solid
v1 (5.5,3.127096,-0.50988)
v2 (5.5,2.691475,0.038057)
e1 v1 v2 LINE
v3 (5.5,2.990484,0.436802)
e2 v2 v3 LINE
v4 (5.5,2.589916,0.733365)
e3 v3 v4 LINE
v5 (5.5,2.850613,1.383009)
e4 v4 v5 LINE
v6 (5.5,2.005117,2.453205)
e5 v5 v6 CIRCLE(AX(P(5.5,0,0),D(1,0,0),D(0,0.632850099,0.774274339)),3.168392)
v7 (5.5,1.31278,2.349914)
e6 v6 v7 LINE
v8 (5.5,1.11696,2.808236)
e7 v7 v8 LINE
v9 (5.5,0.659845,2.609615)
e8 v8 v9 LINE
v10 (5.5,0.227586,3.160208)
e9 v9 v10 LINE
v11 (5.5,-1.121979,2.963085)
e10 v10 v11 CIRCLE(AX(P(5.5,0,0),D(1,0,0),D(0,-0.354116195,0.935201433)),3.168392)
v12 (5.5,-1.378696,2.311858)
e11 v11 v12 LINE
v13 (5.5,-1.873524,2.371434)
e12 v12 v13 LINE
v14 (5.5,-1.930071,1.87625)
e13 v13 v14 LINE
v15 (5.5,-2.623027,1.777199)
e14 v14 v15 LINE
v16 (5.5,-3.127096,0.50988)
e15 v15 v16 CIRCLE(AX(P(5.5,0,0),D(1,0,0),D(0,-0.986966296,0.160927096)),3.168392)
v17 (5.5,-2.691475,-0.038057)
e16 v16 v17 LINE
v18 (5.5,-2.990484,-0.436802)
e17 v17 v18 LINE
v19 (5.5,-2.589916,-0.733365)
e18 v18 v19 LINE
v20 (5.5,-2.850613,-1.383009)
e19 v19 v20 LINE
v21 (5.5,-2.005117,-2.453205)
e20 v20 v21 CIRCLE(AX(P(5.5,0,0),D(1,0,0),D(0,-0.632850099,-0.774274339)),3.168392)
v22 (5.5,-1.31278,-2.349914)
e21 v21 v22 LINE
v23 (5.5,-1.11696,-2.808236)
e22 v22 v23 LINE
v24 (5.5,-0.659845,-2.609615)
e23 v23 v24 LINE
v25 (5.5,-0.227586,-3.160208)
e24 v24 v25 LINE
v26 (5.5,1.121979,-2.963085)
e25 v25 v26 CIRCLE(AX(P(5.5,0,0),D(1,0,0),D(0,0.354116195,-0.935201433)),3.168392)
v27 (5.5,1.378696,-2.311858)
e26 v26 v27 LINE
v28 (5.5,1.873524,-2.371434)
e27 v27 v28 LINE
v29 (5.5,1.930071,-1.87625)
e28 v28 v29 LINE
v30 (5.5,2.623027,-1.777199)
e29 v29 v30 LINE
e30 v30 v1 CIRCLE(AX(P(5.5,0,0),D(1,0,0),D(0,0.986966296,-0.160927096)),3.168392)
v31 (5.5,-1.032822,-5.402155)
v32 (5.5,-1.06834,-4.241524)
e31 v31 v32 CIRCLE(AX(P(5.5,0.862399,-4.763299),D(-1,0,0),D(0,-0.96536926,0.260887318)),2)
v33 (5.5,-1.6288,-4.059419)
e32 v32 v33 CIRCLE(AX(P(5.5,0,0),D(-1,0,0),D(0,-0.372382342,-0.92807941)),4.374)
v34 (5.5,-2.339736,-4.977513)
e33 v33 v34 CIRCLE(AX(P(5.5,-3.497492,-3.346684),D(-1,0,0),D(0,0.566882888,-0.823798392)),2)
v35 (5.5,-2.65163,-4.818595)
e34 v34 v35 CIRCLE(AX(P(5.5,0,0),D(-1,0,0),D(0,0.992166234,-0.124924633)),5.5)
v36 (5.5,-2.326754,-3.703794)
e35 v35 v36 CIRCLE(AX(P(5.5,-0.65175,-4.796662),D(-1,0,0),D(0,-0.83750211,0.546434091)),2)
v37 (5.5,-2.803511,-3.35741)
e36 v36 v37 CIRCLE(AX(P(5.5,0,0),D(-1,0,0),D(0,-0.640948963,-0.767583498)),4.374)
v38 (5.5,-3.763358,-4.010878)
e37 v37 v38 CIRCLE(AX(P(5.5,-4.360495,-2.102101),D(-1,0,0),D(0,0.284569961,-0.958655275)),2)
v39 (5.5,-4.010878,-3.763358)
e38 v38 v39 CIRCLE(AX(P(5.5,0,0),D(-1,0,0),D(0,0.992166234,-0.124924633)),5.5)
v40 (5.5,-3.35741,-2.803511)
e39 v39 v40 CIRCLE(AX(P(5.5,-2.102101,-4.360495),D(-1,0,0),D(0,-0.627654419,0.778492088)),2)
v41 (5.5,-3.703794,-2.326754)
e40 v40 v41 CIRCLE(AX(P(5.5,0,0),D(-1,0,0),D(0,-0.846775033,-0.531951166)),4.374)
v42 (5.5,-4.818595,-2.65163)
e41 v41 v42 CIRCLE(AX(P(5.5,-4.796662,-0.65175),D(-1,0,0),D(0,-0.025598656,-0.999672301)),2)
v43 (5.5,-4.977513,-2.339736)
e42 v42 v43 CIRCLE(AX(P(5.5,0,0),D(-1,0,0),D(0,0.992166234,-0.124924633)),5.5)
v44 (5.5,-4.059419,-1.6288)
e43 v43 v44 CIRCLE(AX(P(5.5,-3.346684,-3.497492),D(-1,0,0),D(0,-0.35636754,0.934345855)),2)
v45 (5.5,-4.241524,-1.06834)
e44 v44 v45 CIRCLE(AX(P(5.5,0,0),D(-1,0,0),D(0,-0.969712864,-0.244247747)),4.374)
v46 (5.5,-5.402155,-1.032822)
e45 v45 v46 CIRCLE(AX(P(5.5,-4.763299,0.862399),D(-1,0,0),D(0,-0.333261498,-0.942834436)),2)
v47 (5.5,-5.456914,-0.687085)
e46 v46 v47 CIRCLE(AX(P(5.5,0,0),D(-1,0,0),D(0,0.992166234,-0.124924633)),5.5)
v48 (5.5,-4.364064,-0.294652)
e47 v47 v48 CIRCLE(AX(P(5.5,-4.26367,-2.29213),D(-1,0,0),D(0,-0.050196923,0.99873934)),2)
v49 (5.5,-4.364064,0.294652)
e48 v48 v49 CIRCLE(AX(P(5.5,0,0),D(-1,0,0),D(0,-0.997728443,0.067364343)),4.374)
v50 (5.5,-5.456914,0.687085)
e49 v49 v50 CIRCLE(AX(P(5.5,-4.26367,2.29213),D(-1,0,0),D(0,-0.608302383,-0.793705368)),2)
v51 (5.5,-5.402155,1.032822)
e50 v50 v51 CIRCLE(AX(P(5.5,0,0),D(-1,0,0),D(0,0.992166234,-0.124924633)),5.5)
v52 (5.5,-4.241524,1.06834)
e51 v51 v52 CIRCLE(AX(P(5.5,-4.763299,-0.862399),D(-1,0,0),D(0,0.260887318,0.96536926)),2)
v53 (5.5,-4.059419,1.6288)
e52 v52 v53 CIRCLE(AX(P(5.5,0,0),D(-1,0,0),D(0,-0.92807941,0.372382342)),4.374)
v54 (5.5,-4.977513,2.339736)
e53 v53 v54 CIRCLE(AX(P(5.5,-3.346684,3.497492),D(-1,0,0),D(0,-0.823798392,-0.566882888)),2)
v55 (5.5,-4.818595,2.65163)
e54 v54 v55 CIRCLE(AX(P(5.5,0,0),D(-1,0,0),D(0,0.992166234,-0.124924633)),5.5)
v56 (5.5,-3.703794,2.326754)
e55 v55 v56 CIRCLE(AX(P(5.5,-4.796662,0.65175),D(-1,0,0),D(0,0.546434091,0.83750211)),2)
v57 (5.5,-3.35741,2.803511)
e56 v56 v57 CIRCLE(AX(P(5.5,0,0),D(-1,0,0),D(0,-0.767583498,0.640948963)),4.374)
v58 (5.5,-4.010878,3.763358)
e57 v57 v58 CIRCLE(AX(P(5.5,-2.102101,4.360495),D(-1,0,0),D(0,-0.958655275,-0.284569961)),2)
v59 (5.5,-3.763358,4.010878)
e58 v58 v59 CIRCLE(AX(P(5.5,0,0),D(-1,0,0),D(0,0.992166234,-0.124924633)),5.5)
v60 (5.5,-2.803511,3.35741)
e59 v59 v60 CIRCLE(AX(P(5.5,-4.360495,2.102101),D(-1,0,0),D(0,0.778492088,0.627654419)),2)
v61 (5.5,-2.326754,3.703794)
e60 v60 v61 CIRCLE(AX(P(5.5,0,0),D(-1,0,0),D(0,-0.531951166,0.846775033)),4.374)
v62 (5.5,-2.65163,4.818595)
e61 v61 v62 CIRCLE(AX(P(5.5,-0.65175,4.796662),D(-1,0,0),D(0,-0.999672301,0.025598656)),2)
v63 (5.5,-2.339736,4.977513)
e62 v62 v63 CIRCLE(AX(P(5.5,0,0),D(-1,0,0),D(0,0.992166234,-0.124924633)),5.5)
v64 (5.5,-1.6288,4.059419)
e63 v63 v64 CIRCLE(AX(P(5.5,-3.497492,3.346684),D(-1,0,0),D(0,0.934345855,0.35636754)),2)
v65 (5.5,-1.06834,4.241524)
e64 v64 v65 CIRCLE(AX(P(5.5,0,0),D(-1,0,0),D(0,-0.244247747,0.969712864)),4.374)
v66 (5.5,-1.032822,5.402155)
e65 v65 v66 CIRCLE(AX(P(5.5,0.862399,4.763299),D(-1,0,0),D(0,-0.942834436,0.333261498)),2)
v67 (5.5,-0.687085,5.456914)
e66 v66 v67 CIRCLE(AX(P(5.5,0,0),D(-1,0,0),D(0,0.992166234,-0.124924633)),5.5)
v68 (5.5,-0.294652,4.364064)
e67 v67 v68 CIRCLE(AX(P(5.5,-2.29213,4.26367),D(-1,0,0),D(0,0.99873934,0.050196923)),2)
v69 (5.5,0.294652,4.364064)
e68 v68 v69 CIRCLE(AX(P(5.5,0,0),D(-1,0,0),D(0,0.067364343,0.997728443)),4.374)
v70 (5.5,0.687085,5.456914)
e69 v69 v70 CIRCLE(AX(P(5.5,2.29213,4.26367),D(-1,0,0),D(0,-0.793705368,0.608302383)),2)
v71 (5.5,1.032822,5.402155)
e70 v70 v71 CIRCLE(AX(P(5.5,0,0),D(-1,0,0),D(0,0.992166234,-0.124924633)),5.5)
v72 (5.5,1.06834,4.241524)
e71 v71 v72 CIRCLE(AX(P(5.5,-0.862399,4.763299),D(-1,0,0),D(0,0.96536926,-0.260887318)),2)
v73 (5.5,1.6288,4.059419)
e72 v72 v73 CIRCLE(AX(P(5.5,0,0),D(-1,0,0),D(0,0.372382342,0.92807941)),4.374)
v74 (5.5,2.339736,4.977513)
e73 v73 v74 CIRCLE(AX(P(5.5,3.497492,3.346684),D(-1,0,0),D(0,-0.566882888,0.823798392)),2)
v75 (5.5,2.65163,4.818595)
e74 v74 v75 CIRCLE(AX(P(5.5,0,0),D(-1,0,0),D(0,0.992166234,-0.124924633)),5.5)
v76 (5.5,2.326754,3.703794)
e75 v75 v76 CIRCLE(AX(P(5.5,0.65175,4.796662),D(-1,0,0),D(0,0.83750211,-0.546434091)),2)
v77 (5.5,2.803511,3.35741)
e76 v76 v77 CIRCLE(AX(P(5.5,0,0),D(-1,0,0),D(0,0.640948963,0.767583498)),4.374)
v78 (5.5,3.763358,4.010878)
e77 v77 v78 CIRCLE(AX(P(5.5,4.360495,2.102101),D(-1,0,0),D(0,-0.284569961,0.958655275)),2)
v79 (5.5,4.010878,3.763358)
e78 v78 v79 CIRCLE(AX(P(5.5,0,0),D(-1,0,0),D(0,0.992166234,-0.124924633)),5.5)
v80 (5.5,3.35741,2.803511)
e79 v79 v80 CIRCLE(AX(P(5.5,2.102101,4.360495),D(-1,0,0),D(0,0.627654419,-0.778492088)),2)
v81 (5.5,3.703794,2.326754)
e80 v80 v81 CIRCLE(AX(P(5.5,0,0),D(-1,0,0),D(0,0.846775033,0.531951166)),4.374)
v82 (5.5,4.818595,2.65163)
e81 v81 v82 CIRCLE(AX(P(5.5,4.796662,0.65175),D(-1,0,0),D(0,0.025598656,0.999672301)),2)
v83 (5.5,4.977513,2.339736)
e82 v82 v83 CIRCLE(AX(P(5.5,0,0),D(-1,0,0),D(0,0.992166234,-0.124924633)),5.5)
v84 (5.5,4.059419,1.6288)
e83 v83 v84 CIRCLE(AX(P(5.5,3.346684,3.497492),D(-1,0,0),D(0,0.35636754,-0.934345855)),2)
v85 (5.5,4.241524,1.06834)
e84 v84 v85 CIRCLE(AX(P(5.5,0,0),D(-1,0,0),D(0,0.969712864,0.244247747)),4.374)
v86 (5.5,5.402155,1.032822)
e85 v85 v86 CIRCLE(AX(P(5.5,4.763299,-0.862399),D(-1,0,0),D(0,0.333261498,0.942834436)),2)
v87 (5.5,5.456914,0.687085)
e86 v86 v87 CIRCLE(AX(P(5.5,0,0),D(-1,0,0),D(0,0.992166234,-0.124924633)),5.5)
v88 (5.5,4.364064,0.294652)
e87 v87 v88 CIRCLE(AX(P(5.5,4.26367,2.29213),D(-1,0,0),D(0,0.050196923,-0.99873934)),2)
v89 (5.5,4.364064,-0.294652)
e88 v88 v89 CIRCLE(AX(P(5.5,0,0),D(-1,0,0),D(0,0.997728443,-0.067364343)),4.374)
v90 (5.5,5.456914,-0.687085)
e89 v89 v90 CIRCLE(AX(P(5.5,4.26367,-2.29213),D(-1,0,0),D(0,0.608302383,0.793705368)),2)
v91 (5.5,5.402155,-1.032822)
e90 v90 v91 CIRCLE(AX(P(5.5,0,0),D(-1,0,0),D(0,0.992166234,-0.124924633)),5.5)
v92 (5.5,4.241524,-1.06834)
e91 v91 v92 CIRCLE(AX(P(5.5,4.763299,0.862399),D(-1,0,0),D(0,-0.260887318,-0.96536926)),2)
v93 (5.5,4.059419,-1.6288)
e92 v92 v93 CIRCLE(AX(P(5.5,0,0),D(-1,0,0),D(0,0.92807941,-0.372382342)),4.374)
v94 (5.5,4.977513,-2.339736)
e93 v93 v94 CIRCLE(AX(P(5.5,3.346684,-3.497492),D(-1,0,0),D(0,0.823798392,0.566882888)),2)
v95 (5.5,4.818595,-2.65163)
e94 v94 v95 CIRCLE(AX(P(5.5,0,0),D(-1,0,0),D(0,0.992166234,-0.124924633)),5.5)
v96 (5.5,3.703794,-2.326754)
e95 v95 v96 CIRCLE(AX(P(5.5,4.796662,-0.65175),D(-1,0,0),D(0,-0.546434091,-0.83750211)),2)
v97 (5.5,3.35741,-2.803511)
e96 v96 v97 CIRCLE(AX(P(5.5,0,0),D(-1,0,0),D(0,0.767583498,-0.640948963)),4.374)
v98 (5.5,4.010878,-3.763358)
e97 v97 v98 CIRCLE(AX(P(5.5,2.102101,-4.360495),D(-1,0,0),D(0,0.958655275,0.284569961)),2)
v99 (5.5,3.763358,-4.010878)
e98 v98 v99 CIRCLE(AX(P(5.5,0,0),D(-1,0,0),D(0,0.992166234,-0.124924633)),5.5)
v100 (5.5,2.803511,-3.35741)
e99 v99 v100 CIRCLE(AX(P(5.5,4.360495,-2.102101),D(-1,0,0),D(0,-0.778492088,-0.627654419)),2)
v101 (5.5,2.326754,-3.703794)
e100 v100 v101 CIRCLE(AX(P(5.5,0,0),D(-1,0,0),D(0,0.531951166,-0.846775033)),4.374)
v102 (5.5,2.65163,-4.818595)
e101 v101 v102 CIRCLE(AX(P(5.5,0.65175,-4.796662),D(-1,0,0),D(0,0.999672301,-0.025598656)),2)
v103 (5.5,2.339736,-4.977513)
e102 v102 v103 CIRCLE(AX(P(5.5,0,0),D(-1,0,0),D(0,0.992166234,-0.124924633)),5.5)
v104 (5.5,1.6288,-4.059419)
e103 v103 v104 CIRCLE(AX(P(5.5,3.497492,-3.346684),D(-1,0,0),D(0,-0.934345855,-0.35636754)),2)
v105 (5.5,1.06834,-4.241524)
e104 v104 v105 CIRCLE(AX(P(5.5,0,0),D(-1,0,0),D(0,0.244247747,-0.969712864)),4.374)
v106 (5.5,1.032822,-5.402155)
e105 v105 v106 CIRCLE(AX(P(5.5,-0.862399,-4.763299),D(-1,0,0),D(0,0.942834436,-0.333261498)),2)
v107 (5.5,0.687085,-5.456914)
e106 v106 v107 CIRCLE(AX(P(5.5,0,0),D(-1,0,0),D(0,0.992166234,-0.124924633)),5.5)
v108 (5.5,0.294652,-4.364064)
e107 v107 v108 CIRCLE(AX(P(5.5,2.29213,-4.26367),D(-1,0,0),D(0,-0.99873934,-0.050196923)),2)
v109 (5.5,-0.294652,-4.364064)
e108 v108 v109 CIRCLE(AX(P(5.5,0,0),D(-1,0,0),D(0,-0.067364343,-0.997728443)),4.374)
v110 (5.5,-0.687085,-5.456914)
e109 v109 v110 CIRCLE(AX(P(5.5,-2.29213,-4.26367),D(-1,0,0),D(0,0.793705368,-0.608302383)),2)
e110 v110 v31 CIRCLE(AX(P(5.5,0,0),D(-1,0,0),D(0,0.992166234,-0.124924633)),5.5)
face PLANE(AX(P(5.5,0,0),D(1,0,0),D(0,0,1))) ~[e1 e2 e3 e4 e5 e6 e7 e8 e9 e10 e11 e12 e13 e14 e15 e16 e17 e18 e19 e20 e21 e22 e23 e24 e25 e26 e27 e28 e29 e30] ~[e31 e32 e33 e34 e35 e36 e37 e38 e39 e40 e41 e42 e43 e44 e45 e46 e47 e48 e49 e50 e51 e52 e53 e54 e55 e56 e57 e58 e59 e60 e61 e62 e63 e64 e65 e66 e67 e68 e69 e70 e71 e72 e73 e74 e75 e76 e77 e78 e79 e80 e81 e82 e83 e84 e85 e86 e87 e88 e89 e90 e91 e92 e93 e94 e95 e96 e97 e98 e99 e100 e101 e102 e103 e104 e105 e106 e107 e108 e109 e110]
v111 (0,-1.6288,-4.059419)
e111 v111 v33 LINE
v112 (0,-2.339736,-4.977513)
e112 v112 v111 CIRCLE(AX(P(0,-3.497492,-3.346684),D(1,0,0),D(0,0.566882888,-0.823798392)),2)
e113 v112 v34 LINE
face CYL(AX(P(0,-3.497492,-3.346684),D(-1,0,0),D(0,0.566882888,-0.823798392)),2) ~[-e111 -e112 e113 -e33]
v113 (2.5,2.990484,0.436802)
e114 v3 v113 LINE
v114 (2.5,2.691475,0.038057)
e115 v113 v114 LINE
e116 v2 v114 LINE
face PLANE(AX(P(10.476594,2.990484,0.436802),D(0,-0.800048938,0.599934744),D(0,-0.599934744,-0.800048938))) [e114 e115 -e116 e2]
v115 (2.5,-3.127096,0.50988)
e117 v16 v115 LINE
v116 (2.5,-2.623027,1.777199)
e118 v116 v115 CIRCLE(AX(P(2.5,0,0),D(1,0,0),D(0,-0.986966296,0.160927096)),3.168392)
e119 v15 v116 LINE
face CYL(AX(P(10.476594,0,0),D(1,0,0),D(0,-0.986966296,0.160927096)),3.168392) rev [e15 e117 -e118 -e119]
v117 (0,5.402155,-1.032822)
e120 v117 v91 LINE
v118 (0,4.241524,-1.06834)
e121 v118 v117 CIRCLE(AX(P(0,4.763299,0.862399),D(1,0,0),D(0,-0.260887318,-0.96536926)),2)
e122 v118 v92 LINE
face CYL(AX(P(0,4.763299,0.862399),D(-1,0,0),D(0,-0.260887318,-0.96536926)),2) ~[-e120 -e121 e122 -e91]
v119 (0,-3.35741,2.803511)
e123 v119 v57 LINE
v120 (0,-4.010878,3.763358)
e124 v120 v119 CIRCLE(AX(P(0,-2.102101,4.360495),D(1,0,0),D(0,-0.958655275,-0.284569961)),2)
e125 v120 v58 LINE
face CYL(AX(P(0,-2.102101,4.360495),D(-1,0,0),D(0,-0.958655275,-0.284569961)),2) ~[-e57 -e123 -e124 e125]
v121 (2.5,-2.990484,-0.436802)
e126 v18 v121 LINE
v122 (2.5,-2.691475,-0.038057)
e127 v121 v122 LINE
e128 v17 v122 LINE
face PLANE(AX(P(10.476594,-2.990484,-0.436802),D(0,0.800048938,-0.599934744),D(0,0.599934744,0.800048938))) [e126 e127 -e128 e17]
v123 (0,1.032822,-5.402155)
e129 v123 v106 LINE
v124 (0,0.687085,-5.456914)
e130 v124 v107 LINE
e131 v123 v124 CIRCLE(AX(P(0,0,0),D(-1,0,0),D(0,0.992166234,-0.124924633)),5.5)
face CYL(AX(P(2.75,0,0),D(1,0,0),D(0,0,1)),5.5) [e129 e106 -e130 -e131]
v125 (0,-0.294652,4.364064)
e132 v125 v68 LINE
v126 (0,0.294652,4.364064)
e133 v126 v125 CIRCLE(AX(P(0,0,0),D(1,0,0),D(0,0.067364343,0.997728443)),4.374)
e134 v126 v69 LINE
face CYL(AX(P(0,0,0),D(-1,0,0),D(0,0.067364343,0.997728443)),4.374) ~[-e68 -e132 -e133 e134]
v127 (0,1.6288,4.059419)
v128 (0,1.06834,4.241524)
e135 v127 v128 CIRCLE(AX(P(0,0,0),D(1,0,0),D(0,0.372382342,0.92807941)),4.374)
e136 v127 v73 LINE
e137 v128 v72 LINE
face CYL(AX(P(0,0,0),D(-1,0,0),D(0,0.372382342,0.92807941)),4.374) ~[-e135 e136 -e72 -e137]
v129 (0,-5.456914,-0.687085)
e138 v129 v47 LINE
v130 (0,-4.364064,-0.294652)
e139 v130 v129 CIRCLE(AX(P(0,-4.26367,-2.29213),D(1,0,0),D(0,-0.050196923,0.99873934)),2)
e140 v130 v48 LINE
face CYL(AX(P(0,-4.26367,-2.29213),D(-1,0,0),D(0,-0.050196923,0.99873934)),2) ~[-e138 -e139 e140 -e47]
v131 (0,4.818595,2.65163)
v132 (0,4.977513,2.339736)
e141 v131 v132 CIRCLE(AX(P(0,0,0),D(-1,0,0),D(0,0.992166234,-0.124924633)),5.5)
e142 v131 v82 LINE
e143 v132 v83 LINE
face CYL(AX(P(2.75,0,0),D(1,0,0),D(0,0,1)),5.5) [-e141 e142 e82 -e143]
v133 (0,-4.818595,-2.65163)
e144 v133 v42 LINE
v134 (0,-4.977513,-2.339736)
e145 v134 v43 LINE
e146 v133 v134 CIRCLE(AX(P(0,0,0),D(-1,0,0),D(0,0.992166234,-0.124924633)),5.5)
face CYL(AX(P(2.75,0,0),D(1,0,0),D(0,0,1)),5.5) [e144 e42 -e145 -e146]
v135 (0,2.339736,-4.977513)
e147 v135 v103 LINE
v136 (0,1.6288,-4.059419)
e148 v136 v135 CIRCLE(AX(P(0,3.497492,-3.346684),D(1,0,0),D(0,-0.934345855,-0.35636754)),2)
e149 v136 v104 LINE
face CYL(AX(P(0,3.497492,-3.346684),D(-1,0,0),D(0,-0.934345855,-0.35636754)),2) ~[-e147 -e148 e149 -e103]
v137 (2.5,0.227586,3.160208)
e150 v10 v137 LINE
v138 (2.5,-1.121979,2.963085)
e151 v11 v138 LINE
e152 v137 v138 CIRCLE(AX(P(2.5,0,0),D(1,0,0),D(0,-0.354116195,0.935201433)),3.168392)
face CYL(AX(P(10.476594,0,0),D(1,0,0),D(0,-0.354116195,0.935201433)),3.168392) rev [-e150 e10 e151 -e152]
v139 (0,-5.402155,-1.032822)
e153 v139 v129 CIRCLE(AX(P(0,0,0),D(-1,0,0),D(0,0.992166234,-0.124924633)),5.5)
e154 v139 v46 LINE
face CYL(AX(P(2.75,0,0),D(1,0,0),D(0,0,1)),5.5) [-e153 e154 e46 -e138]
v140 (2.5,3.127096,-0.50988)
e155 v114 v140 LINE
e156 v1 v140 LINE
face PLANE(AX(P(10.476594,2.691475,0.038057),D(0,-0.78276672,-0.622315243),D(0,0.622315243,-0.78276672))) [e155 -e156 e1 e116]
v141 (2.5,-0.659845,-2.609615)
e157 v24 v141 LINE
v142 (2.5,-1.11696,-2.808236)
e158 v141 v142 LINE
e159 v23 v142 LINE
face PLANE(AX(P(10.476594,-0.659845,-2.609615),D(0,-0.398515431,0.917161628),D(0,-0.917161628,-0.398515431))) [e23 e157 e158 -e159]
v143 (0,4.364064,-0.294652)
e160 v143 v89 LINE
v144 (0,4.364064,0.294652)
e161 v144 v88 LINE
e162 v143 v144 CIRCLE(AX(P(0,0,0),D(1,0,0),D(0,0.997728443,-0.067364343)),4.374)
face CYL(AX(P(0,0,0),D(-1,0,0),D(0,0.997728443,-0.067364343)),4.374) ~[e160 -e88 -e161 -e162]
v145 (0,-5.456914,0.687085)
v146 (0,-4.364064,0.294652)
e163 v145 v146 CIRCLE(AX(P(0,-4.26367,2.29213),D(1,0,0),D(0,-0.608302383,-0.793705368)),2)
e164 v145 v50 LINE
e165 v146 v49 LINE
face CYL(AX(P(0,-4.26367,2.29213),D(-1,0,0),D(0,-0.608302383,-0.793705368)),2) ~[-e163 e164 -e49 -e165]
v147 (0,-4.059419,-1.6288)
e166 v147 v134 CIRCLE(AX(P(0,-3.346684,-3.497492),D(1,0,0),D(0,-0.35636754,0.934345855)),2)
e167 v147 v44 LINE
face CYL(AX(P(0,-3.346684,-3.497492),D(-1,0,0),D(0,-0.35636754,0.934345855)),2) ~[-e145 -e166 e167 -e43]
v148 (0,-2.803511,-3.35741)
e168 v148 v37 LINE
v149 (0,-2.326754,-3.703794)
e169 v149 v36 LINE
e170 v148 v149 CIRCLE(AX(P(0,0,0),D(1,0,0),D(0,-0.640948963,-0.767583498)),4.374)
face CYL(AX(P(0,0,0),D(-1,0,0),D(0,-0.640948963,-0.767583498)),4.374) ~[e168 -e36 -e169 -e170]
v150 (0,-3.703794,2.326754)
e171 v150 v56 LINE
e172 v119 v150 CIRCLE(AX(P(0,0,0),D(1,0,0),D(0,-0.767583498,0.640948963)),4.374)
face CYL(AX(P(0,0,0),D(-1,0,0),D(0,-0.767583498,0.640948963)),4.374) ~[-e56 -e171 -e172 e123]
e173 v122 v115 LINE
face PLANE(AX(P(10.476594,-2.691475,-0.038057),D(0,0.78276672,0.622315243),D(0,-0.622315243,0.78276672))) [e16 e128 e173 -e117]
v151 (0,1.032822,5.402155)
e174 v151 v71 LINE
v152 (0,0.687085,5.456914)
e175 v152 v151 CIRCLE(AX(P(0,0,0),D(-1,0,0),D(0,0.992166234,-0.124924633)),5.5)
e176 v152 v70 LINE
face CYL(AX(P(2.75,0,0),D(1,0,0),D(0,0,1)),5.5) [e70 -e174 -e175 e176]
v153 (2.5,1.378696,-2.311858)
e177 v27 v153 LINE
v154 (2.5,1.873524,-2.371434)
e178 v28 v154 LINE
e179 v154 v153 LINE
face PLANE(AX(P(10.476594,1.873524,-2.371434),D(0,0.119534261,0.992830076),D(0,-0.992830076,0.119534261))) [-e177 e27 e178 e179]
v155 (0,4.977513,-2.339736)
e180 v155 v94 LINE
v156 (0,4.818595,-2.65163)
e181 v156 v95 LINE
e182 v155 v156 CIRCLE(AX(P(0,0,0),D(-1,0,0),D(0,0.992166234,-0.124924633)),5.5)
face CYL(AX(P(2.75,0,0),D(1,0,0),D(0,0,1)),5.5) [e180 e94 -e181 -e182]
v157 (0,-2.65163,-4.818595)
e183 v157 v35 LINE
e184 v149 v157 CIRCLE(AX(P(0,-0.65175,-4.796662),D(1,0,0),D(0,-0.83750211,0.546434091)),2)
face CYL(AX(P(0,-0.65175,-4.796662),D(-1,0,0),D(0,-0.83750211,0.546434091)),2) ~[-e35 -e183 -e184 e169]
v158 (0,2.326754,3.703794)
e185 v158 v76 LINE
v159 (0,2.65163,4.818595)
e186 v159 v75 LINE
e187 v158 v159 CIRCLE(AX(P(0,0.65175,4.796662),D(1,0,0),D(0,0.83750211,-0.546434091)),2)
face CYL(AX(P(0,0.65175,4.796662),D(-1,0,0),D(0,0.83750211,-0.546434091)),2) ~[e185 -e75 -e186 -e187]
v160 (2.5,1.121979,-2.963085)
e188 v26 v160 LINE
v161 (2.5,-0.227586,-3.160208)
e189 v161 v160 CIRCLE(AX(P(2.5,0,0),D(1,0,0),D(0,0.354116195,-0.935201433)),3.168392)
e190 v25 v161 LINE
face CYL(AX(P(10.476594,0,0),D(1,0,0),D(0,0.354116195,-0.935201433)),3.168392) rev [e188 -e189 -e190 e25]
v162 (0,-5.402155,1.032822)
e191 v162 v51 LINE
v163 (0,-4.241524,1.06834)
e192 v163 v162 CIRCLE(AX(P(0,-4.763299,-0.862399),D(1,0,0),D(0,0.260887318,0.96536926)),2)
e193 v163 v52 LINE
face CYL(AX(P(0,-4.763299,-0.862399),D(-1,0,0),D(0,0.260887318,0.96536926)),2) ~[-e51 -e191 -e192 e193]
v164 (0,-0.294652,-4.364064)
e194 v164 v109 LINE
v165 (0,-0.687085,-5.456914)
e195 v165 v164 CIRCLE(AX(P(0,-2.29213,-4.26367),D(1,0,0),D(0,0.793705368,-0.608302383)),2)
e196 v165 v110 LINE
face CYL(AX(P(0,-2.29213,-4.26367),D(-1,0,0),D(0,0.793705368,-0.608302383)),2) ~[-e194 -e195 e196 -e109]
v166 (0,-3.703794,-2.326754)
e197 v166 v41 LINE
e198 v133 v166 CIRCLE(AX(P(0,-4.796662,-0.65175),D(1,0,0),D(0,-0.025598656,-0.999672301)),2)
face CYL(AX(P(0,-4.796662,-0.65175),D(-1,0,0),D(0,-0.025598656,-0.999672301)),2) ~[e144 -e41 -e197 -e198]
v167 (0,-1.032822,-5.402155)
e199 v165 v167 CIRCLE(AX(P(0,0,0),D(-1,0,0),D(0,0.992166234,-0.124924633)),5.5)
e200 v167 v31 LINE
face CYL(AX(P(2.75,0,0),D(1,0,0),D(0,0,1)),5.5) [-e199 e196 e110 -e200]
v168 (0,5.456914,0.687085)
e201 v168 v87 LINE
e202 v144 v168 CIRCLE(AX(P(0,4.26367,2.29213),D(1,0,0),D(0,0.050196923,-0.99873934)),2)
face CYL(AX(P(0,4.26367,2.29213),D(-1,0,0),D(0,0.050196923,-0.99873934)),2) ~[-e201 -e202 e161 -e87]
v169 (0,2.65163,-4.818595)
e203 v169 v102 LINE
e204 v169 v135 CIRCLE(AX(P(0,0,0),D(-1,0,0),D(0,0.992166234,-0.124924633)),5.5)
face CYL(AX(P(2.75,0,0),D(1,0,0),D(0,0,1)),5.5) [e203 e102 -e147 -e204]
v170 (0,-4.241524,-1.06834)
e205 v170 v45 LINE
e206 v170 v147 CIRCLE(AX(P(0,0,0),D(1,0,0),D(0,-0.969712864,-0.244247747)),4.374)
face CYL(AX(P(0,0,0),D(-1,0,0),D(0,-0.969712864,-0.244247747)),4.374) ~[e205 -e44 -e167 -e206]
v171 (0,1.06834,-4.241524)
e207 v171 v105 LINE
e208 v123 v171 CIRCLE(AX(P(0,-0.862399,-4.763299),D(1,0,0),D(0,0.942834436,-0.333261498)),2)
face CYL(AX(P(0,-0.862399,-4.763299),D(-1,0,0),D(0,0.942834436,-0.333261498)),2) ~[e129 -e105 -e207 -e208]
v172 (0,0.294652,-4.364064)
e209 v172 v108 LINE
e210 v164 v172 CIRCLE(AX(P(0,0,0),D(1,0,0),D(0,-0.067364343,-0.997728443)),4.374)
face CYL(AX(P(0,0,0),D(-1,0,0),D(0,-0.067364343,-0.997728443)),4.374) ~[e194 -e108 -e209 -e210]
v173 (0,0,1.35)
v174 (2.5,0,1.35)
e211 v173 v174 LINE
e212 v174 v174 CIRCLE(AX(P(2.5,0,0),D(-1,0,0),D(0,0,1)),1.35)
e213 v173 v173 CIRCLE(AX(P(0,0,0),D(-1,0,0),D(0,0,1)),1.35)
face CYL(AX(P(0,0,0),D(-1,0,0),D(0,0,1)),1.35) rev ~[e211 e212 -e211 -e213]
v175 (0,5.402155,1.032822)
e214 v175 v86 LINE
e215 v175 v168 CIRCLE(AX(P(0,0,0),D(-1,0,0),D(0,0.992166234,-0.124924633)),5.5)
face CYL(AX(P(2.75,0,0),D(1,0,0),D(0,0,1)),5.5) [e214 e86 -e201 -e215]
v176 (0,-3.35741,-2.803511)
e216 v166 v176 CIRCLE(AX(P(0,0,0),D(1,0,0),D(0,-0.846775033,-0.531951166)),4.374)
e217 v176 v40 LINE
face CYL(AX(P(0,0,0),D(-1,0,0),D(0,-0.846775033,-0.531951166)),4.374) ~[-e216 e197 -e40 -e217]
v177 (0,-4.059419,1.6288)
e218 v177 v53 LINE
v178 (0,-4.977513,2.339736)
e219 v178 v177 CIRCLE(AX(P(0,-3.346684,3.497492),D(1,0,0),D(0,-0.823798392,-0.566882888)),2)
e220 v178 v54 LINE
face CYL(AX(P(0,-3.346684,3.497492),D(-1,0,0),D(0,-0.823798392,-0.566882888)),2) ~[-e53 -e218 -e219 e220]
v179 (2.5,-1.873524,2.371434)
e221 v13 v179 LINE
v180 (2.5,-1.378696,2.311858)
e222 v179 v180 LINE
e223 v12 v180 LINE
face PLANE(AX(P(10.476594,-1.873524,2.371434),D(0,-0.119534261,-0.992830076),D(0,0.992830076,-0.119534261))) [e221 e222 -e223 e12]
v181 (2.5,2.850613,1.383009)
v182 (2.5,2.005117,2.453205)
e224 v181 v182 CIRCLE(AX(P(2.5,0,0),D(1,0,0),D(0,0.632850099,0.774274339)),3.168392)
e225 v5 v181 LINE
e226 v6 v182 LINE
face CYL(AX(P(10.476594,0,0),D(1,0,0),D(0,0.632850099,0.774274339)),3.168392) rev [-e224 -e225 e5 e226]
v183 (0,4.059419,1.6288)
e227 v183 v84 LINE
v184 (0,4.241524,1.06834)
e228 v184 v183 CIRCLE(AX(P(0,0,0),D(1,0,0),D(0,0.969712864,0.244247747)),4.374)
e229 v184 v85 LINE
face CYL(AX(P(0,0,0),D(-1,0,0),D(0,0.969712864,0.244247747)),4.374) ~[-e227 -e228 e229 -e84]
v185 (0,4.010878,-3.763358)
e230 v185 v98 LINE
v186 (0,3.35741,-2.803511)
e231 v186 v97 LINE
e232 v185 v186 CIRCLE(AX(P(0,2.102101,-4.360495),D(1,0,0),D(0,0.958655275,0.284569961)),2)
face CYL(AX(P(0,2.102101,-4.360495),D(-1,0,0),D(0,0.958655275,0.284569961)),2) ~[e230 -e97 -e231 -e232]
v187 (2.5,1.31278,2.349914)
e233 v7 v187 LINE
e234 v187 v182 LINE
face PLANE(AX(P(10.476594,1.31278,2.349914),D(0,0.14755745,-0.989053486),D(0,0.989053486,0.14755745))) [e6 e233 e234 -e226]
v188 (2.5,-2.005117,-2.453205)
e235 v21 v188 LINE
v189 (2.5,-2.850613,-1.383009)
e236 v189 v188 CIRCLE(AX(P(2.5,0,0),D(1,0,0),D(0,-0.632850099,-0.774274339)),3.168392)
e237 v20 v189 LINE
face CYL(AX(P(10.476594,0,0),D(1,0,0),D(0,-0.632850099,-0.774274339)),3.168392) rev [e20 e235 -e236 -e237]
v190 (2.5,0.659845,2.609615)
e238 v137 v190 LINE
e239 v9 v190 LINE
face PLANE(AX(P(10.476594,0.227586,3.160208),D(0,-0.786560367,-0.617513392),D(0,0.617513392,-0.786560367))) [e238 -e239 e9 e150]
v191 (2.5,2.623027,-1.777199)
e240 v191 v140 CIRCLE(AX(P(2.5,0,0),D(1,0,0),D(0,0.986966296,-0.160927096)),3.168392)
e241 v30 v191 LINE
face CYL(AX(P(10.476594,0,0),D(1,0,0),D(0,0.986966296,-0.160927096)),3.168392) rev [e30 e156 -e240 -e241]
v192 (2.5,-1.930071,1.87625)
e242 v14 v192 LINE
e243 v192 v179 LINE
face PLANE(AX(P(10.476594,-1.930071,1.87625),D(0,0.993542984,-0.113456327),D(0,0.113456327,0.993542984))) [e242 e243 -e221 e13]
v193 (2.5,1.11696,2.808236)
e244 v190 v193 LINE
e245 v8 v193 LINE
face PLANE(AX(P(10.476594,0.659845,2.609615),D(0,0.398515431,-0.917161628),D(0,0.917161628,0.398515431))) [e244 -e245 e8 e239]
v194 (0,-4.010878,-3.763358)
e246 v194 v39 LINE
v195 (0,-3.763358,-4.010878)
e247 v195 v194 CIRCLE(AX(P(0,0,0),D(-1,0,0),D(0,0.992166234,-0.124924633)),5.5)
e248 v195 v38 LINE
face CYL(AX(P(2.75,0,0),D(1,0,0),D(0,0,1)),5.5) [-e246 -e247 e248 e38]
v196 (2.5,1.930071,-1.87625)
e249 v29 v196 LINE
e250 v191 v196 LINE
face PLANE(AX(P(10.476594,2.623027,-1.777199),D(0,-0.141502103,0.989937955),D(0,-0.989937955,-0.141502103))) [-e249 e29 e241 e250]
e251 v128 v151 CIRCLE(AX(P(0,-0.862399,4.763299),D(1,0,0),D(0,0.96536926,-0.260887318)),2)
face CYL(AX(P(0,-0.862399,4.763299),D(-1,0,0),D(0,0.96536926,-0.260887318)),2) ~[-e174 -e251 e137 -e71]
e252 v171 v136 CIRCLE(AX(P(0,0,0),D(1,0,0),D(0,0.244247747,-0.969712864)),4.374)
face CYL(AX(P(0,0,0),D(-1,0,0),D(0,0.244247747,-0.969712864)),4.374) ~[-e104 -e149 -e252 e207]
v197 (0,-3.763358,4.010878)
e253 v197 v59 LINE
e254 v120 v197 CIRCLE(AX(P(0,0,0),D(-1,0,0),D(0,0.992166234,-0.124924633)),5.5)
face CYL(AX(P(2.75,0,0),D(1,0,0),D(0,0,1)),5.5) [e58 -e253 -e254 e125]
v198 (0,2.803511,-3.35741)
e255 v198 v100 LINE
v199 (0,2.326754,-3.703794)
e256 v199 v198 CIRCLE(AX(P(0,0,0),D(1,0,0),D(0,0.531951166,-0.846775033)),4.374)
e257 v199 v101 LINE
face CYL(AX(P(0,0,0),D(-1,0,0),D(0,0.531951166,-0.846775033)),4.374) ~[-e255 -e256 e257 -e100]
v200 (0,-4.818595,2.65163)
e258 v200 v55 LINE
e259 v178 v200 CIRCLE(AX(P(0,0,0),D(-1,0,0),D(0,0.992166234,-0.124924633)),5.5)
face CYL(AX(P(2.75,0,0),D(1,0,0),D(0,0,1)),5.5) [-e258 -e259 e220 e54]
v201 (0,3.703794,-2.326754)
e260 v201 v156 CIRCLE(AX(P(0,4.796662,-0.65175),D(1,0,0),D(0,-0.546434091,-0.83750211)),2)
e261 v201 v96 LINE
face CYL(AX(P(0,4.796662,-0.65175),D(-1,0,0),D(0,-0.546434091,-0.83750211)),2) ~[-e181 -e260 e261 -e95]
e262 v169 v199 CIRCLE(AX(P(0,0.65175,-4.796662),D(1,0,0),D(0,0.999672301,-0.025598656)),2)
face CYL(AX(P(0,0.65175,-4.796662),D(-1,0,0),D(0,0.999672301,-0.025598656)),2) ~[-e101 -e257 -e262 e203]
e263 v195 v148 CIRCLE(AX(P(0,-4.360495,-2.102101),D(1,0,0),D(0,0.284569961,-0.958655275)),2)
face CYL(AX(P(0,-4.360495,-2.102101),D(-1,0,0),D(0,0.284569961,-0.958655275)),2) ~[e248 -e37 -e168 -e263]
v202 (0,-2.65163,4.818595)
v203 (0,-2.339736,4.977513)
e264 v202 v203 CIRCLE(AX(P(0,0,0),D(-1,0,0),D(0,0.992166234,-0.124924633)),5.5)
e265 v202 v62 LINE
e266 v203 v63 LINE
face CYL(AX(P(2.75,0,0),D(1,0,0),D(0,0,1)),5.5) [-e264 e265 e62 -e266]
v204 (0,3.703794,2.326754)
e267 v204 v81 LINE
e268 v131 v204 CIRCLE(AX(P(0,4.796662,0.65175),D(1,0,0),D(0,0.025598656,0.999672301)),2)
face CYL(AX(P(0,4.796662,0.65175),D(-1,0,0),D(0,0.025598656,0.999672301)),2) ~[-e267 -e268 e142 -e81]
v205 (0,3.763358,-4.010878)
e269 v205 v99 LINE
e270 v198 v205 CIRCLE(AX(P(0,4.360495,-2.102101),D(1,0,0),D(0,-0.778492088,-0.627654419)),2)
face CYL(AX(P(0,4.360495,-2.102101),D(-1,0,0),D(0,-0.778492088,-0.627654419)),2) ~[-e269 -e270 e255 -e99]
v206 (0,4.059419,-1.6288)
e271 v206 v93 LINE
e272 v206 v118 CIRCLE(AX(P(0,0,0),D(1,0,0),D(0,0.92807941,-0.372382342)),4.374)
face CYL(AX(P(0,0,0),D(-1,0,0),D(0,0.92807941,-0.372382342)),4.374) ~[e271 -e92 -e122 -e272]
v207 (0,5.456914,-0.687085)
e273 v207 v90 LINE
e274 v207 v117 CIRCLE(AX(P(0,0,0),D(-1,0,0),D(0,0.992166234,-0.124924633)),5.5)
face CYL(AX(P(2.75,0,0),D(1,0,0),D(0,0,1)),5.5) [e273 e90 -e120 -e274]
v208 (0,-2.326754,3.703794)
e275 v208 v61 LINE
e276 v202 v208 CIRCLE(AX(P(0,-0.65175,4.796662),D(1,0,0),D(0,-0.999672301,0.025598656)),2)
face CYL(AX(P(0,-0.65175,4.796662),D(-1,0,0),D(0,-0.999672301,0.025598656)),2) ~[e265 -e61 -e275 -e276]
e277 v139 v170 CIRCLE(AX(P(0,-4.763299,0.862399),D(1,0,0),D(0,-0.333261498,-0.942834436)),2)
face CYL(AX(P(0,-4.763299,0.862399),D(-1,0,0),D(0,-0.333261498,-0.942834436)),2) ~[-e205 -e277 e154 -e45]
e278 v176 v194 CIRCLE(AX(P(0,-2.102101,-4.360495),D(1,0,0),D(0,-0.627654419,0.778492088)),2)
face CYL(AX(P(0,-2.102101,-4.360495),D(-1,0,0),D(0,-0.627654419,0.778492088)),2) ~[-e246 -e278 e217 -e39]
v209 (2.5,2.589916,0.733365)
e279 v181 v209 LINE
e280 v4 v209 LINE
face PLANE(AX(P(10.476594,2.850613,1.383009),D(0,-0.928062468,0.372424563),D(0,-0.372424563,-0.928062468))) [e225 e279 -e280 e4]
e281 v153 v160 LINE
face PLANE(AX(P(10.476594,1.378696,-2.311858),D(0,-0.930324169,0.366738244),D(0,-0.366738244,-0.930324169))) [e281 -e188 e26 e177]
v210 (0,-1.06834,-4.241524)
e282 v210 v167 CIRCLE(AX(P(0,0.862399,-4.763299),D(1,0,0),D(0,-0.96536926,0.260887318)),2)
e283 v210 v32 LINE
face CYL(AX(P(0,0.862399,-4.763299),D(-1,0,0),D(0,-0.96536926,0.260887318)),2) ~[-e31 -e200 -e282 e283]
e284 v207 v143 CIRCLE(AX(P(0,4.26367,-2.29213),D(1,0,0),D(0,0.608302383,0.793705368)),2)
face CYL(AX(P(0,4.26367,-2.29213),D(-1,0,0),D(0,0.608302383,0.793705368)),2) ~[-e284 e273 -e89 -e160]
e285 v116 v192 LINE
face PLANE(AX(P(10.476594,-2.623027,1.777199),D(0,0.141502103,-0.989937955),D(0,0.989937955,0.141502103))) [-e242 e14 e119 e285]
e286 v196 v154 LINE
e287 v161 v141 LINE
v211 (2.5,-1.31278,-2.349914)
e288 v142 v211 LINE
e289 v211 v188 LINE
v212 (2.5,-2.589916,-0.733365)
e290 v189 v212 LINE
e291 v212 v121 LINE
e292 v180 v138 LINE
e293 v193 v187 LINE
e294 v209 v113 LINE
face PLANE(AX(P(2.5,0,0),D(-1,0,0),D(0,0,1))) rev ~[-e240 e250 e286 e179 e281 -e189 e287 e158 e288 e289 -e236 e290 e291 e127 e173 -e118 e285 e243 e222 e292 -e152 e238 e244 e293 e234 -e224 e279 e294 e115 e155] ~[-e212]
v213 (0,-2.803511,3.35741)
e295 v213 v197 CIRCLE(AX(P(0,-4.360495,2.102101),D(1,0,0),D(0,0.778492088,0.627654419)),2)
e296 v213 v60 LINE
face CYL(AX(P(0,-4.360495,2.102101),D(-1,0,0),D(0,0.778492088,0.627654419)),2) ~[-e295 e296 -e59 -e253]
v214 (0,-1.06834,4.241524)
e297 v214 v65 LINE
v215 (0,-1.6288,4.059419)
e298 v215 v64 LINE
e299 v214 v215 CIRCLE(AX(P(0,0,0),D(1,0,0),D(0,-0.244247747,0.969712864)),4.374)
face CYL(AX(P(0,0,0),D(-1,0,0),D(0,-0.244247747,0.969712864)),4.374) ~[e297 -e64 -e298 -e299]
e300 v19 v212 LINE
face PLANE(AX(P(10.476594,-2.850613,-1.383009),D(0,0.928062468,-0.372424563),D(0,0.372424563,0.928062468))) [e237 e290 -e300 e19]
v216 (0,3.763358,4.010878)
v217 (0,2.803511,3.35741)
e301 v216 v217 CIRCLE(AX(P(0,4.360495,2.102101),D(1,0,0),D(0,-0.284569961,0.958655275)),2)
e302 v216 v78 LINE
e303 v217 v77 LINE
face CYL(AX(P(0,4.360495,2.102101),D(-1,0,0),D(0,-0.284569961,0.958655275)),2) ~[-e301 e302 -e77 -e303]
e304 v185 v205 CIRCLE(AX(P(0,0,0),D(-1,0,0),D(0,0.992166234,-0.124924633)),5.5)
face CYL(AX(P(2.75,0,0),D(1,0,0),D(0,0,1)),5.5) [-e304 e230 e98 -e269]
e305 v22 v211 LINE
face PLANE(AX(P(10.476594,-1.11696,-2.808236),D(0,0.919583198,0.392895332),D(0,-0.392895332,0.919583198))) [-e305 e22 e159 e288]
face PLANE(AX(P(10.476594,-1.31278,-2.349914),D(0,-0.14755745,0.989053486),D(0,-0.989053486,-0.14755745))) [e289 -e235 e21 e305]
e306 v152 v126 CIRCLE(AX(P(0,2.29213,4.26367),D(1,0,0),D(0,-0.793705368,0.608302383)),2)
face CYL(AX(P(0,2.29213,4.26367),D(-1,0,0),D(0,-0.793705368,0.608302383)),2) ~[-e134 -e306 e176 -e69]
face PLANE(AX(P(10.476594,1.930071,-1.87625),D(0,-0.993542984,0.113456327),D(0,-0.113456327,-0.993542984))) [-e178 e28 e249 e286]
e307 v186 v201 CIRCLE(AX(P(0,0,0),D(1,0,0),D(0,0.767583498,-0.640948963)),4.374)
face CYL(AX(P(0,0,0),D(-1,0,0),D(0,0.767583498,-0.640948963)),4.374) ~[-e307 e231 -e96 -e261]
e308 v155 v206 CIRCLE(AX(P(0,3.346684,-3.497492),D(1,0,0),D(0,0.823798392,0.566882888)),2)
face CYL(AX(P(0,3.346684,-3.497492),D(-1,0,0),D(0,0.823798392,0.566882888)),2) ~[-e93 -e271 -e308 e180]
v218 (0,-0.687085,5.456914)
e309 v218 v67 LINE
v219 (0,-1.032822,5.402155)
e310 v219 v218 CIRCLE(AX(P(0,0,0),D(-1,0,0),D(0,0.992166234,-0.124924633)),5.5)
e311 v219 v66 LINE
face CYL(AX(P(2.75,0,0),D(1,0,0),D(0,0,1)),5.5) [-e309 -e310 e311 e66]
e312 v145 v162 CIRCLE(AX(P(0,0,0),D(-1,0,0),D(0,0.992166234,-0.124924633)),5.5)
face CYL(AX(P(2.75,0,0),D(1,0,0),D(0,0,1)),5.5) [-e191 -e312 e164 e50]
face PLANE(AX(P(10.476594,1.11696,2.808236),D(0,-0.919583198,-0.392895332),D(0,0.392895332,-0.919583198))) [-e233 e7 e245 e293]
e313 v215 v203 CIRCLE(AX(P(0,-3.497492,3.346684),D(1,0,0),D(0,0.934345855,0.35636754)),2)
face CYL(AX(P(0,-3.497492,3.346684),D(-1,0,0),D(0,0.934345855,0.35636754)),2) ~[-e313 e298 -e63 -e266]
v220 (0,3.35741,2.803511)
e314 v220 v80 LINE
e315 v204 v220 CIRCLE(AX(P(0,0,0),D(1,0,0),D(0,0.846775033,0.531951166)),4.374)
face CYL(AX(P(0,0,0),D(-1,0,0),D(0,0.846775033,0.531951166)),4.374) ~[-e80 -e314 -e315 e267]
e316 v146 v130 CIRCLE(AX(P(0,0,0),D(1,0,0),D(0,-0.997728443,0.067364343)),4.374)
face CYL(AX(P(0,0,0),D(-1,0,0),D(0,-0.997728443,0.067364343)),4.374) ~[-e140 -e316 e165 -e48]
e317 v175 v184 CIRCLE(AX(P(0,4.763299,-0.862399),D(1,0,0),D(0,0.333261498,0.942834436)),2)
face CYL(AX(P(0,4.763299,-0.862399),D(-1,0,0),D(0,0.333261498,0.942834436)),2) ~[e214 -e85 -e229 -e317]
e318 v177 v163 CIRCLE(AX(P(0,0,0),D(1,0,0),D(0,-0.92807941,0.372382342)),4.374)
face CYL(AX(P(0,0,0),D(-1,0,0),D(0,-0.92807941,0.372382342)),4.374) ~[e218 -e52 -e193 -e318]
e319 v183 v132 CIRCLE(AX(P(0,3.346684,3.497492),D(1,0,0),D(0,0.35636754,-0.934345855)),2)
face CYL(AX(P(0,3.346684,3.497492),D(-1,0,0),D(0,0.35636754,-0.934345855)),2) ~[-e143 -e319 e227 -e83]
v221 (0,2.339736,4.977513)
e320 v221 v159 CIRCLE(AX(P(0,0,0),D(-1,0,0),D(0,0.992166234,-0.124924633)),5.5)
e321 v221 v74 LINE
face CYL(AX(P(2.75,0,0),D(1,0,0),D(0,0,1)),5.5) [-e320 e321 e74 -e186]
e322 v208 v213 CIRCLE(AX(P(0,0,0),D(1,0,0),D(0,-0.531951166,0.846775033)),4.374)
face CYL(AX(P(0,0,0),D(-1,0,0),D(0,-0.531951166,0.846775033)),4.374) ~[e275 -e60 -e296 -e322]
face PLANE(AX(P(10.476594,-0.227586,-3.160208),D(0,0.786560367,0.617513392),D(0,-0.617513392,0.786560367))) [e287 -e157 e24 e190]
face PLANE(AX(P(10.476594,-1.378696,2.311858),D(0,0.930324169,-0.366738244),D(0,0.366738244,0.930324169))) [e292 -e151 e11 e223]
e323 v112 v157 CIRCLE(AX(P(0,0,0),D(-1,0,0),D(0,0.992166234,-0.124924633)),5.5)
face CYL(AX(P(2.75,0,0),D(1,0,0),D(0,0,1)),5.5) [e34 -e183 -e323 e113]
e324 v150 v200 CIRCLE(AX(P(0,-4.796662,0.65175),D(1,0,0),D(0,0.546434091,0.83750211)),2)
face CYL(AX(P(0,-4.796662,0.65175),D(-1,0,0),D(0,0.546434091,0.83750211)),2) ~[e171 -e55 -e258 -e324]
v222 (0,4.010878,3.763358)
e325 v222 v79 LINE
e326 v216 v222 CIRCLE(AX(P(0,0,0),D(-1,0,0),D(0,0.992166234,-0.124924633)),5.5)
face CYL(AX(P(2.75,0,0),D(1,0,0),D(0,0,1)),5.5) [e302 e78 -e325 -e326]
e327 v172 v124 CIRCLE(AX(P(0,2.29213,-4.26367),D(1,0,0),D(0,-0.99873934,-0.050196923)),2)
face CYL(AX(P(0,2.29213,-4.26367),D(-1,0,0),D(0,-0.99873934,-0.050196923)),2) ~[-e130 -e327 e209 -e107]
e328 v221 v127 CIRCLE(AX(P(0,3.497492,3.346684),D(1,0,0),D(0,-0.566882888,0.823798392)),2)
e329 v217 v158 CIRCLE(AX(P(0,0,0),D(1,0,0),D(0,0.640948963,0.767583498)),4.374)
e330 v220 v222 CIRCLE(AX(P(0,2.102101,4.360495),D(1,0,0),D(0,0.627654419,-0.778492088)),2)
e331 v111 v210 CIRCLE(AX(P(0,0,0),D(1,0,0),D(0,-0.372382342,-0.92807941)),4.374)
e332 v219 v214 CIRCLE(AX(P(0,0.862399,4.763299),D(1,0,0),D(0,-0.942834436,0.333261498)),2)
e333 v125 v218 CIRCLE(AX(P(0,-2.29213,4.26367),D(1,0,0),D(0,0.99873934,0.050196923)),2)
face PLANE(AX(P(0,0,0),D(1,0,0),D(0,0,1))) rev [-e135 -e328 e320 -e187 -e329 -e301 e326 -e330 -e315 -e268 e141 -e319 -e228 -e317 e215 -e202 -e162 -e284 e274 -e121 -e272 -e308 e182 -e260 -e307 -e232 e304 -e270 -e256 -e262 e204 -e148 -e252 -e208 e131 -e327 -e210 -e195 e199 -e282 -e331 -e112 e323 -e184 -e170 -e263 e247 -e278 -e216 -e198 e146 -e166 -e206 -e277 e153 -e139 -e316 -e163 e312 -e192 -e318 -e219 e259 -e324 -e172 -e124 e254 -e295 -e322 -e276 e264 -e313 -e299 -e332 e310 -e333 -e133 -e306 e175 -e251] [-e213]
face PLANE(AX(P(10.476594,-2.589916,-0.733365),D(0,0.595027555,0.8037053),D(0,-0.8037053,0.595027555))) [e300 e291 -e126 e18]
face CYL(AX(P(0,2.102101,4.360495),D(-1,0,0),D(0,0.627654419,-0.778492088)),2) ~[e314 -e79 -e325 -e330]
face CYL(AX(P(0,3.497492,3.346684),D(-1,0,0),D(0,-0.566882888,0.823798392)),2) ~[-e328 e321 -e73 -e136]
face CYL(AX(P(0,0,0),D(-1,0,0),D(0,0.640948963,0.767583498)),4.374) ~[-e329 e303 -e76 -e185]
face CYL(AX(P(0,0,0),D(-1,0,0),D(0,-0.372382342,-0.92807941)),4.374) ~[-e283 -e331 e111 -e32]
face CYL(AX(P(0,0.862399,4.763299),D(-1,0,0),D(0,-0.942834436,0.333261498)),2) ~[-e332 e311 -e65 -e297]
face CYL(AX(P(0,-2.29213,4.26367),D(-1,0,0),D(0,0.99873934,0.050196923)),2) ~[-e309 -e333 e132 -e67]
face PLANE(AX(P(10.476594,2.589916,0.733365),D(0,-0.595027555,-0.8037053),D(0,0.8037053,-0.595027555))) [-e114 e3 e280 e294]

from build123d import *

# Parameters (mm, degrees)
BASPROSKE_W             = 5.5
BASPROSKE_H             = 5.5
TOOTHCUT_DEPTH          = 10.526279442
TEETHCUTS_COUNT         = 20
TEETHCUTS_ANGLE         = 342
BORSKE_R                = 0.5
BORE_DEPTH              = 50.0008636
CUT_EXTRUDE1_DEPTH      = 10.476593643
CUT_EXTRUDE1_DEPTH_BACK = 10.476593643
SKETCH3_R               = 3.65
SKETCH3_R_2             = 1.35
BOSS_EXTRUDE1_DEPTH     = 2.5


with BuildPart() as part:
    # BasProSke → Base-Revolve (revolve)
    with BuildSketch(Plane(origin=(0, 0, 0), x_dir=(1, 0, 0), z_dir=(0, 1, 0)), mode=Mode.PRIVATE) as base_revolve_sk:
        with Locations((2.75, 2.75)):
            Rectangle(BASPROSKE_W, BASPROSKE_H)
    revolve(base_revolve_sk.sketch.rotate(Axis((-10, 0, 0), (1, 0, 0)), 180), axis=Axis((-10, 0, 0), (1, 0, 0)))

    # TooCutSke → ToothCut (cut, through all)
    with BuildSketch(Plane(origin=(0, 0, 0), x_dir=(0, 0, -1), z_dir=(1, 0, 0))):
        with BuildLine():
            ThreePointArc((0.29465164, 4.364064208), (0, 4.374), (-0.29465164, 4.364064208))
            ThreePointArc((-0.29465164, 4.364064208), (-0.414807829, 4.95335164), (-0.704719584, 5.480275127))
            ThreePointArc((-0.704719584, 5.480275127), (0, 5.5254), (0.704719584, 5.480275127))
            ThreePointArc((0.704719584, 5.480275127), (0.414807829, 4.95335164), (0.29465164, 4.364064208))
        make_face()
    toothcut = extrude(amount=TOOTHCUT_DEPTH, mode=Mode.SUBTRACT)

    # TeethCuts: ToothCut ×20 about axis
    teethcuts_axis = Axis((-10, 0, 0), (1, 0, 0))
    for i in range(1, TEETHCUTS_COUNT):
        add(toothcut.rotate(teethcuts_axis, i * TEETHCUTS_ANGLE / (TEETHCUTS_COUNT - 1)), mode=Mode.SUBTRACT)

    # BorSke → Bore (cut, symmetric)
    with BuildSketch(Plane(origin=(0, 0, 0), x_dir=(0, 0, -1), z_dir=(1, 0, 0))):
        with Locations(Location((0, 0, 0), (0, 0, 180))):
            Circle(BORSKE_R)
    extrude(amount=BORE_DEPTH, both=True, mode=Mode.SUBTRACT)

    # Sketch2 → Cut-Extrude1 (cut, two sides: drawn at the far end of the back side and taken through both)
    with BuildSketch(Plane.ZY.offset(-CUT_EXTRUDE1_DEPTH_BACK)):
        with BuildLine():
            Line((-1.777198988, 2.623027169), (-1.87625046, 1.9300706))
            Line((-1.87625046, 1.9300706), (-2.371433872, 1.873523785))
            Line((-2.371433872, 1.873523785), (-2.311857805, 1.378695687))
            Line((-2.311857805, 1.378695687), (-2.963084724, 1.121978916))
            ThreePointArc((-2.963084724, 1.121978916), (-3.135124987, 0.457929127), (-3.160207657, -0.227585887))
            Line((-3.160207657, -0.227585887), (-2.6096154, -0.659845262))
            Line((-2.6096154, -0.659845262), (-2.808236128, -1.116960084))
            Line((-2.808236128, -1.116960084), (-2.349914391, -1.312779746))
            Line((-2.349914391, -1.312779746), (-2.453204606, -2.005117186))
            ThreePointArc((-2.453204606, -2.005117186), (-1.964140751, -2.48613332), (-1.383008669, -2.850613056))
            Line((-1.383008669, -2.850613056), (-0.733364941, -2.589915862))
            Line((-0.733364941, -2.589915862), (-0.436802256, -2.990483869))
            Line((-0.436802256, -2.990483869), (-0.038056586, -2.691475433))
            Line((-0.038056586, -2.691475433), (0.509880118, -3.127096103))
            ThreePointArc((0.509880118, -3.127096103), (1.170984237, -2.944062446), (1.777198988, -2.623027169))
            Line((1.777198988, -2.623027169), (1.87625046, -1.9300706))
            Line((1.87625046, -1.9300706), (2.371433872, -1.873523785))
            Line((2.371433872, -1.873523785), (2.311857805, -1.378695687))
            Line((2.311857805, -1.378695687), (2.963084724, -1.121978916))
            ThreePointArc((2.963084724, -1.121978916), (3.135124987, -0.457929127), (3.160207657, 0.227585887))
            Line((3.160207657, 0.227585887), (2.6096154, 0.659845262))
            Line((2.6096154, 0.659845262), (2.808236128, 1.116960084))
            Line((2.808236128, 1.116960084), (2.349914391, 1.312779746))
            Line((2.349914391, 1.312779746), (2.453204606, 2.005117186))
            ThreePointArc((2.453204606, 2.005117186), (1.964140751, 2.48613332), (1.383008669, 2.850613056))
            Line((1.383008669, 2.850613056), (0.733364941, 2.589915862))
            Line((0.733364941, 2.589915862), (0.436802256, 2.990483869))
            Line((0.436802256, 2.990483869), (0.038056586, 2.691475433))
            Line((0.038056586, 2.691475433), (-0.509880118, 3.127096103))
            ThreePointArc((-0.509880118, 3.127096103), (-1.170984237, 2.944062446), (-1.777198988, 2.623027169))
        make_face()
    extrude(amount=CUT_EXTRUDE1_DEPTH + CUT_EXTRUDE1_DEPTH_BACK, mode=Mode.SUBTRACT)

    # Sketch3 → Boss-Extrude1 (add)
    with BuildSketch(Plane.ZY):
        Circle(SKETCH3_R)
        Circle(SKETCH3_R_2, mode=Mode.SUBTRACT)
    extrude(amount=-BOSS_EXTRUDE1_DEPTH)


solid = part.part
